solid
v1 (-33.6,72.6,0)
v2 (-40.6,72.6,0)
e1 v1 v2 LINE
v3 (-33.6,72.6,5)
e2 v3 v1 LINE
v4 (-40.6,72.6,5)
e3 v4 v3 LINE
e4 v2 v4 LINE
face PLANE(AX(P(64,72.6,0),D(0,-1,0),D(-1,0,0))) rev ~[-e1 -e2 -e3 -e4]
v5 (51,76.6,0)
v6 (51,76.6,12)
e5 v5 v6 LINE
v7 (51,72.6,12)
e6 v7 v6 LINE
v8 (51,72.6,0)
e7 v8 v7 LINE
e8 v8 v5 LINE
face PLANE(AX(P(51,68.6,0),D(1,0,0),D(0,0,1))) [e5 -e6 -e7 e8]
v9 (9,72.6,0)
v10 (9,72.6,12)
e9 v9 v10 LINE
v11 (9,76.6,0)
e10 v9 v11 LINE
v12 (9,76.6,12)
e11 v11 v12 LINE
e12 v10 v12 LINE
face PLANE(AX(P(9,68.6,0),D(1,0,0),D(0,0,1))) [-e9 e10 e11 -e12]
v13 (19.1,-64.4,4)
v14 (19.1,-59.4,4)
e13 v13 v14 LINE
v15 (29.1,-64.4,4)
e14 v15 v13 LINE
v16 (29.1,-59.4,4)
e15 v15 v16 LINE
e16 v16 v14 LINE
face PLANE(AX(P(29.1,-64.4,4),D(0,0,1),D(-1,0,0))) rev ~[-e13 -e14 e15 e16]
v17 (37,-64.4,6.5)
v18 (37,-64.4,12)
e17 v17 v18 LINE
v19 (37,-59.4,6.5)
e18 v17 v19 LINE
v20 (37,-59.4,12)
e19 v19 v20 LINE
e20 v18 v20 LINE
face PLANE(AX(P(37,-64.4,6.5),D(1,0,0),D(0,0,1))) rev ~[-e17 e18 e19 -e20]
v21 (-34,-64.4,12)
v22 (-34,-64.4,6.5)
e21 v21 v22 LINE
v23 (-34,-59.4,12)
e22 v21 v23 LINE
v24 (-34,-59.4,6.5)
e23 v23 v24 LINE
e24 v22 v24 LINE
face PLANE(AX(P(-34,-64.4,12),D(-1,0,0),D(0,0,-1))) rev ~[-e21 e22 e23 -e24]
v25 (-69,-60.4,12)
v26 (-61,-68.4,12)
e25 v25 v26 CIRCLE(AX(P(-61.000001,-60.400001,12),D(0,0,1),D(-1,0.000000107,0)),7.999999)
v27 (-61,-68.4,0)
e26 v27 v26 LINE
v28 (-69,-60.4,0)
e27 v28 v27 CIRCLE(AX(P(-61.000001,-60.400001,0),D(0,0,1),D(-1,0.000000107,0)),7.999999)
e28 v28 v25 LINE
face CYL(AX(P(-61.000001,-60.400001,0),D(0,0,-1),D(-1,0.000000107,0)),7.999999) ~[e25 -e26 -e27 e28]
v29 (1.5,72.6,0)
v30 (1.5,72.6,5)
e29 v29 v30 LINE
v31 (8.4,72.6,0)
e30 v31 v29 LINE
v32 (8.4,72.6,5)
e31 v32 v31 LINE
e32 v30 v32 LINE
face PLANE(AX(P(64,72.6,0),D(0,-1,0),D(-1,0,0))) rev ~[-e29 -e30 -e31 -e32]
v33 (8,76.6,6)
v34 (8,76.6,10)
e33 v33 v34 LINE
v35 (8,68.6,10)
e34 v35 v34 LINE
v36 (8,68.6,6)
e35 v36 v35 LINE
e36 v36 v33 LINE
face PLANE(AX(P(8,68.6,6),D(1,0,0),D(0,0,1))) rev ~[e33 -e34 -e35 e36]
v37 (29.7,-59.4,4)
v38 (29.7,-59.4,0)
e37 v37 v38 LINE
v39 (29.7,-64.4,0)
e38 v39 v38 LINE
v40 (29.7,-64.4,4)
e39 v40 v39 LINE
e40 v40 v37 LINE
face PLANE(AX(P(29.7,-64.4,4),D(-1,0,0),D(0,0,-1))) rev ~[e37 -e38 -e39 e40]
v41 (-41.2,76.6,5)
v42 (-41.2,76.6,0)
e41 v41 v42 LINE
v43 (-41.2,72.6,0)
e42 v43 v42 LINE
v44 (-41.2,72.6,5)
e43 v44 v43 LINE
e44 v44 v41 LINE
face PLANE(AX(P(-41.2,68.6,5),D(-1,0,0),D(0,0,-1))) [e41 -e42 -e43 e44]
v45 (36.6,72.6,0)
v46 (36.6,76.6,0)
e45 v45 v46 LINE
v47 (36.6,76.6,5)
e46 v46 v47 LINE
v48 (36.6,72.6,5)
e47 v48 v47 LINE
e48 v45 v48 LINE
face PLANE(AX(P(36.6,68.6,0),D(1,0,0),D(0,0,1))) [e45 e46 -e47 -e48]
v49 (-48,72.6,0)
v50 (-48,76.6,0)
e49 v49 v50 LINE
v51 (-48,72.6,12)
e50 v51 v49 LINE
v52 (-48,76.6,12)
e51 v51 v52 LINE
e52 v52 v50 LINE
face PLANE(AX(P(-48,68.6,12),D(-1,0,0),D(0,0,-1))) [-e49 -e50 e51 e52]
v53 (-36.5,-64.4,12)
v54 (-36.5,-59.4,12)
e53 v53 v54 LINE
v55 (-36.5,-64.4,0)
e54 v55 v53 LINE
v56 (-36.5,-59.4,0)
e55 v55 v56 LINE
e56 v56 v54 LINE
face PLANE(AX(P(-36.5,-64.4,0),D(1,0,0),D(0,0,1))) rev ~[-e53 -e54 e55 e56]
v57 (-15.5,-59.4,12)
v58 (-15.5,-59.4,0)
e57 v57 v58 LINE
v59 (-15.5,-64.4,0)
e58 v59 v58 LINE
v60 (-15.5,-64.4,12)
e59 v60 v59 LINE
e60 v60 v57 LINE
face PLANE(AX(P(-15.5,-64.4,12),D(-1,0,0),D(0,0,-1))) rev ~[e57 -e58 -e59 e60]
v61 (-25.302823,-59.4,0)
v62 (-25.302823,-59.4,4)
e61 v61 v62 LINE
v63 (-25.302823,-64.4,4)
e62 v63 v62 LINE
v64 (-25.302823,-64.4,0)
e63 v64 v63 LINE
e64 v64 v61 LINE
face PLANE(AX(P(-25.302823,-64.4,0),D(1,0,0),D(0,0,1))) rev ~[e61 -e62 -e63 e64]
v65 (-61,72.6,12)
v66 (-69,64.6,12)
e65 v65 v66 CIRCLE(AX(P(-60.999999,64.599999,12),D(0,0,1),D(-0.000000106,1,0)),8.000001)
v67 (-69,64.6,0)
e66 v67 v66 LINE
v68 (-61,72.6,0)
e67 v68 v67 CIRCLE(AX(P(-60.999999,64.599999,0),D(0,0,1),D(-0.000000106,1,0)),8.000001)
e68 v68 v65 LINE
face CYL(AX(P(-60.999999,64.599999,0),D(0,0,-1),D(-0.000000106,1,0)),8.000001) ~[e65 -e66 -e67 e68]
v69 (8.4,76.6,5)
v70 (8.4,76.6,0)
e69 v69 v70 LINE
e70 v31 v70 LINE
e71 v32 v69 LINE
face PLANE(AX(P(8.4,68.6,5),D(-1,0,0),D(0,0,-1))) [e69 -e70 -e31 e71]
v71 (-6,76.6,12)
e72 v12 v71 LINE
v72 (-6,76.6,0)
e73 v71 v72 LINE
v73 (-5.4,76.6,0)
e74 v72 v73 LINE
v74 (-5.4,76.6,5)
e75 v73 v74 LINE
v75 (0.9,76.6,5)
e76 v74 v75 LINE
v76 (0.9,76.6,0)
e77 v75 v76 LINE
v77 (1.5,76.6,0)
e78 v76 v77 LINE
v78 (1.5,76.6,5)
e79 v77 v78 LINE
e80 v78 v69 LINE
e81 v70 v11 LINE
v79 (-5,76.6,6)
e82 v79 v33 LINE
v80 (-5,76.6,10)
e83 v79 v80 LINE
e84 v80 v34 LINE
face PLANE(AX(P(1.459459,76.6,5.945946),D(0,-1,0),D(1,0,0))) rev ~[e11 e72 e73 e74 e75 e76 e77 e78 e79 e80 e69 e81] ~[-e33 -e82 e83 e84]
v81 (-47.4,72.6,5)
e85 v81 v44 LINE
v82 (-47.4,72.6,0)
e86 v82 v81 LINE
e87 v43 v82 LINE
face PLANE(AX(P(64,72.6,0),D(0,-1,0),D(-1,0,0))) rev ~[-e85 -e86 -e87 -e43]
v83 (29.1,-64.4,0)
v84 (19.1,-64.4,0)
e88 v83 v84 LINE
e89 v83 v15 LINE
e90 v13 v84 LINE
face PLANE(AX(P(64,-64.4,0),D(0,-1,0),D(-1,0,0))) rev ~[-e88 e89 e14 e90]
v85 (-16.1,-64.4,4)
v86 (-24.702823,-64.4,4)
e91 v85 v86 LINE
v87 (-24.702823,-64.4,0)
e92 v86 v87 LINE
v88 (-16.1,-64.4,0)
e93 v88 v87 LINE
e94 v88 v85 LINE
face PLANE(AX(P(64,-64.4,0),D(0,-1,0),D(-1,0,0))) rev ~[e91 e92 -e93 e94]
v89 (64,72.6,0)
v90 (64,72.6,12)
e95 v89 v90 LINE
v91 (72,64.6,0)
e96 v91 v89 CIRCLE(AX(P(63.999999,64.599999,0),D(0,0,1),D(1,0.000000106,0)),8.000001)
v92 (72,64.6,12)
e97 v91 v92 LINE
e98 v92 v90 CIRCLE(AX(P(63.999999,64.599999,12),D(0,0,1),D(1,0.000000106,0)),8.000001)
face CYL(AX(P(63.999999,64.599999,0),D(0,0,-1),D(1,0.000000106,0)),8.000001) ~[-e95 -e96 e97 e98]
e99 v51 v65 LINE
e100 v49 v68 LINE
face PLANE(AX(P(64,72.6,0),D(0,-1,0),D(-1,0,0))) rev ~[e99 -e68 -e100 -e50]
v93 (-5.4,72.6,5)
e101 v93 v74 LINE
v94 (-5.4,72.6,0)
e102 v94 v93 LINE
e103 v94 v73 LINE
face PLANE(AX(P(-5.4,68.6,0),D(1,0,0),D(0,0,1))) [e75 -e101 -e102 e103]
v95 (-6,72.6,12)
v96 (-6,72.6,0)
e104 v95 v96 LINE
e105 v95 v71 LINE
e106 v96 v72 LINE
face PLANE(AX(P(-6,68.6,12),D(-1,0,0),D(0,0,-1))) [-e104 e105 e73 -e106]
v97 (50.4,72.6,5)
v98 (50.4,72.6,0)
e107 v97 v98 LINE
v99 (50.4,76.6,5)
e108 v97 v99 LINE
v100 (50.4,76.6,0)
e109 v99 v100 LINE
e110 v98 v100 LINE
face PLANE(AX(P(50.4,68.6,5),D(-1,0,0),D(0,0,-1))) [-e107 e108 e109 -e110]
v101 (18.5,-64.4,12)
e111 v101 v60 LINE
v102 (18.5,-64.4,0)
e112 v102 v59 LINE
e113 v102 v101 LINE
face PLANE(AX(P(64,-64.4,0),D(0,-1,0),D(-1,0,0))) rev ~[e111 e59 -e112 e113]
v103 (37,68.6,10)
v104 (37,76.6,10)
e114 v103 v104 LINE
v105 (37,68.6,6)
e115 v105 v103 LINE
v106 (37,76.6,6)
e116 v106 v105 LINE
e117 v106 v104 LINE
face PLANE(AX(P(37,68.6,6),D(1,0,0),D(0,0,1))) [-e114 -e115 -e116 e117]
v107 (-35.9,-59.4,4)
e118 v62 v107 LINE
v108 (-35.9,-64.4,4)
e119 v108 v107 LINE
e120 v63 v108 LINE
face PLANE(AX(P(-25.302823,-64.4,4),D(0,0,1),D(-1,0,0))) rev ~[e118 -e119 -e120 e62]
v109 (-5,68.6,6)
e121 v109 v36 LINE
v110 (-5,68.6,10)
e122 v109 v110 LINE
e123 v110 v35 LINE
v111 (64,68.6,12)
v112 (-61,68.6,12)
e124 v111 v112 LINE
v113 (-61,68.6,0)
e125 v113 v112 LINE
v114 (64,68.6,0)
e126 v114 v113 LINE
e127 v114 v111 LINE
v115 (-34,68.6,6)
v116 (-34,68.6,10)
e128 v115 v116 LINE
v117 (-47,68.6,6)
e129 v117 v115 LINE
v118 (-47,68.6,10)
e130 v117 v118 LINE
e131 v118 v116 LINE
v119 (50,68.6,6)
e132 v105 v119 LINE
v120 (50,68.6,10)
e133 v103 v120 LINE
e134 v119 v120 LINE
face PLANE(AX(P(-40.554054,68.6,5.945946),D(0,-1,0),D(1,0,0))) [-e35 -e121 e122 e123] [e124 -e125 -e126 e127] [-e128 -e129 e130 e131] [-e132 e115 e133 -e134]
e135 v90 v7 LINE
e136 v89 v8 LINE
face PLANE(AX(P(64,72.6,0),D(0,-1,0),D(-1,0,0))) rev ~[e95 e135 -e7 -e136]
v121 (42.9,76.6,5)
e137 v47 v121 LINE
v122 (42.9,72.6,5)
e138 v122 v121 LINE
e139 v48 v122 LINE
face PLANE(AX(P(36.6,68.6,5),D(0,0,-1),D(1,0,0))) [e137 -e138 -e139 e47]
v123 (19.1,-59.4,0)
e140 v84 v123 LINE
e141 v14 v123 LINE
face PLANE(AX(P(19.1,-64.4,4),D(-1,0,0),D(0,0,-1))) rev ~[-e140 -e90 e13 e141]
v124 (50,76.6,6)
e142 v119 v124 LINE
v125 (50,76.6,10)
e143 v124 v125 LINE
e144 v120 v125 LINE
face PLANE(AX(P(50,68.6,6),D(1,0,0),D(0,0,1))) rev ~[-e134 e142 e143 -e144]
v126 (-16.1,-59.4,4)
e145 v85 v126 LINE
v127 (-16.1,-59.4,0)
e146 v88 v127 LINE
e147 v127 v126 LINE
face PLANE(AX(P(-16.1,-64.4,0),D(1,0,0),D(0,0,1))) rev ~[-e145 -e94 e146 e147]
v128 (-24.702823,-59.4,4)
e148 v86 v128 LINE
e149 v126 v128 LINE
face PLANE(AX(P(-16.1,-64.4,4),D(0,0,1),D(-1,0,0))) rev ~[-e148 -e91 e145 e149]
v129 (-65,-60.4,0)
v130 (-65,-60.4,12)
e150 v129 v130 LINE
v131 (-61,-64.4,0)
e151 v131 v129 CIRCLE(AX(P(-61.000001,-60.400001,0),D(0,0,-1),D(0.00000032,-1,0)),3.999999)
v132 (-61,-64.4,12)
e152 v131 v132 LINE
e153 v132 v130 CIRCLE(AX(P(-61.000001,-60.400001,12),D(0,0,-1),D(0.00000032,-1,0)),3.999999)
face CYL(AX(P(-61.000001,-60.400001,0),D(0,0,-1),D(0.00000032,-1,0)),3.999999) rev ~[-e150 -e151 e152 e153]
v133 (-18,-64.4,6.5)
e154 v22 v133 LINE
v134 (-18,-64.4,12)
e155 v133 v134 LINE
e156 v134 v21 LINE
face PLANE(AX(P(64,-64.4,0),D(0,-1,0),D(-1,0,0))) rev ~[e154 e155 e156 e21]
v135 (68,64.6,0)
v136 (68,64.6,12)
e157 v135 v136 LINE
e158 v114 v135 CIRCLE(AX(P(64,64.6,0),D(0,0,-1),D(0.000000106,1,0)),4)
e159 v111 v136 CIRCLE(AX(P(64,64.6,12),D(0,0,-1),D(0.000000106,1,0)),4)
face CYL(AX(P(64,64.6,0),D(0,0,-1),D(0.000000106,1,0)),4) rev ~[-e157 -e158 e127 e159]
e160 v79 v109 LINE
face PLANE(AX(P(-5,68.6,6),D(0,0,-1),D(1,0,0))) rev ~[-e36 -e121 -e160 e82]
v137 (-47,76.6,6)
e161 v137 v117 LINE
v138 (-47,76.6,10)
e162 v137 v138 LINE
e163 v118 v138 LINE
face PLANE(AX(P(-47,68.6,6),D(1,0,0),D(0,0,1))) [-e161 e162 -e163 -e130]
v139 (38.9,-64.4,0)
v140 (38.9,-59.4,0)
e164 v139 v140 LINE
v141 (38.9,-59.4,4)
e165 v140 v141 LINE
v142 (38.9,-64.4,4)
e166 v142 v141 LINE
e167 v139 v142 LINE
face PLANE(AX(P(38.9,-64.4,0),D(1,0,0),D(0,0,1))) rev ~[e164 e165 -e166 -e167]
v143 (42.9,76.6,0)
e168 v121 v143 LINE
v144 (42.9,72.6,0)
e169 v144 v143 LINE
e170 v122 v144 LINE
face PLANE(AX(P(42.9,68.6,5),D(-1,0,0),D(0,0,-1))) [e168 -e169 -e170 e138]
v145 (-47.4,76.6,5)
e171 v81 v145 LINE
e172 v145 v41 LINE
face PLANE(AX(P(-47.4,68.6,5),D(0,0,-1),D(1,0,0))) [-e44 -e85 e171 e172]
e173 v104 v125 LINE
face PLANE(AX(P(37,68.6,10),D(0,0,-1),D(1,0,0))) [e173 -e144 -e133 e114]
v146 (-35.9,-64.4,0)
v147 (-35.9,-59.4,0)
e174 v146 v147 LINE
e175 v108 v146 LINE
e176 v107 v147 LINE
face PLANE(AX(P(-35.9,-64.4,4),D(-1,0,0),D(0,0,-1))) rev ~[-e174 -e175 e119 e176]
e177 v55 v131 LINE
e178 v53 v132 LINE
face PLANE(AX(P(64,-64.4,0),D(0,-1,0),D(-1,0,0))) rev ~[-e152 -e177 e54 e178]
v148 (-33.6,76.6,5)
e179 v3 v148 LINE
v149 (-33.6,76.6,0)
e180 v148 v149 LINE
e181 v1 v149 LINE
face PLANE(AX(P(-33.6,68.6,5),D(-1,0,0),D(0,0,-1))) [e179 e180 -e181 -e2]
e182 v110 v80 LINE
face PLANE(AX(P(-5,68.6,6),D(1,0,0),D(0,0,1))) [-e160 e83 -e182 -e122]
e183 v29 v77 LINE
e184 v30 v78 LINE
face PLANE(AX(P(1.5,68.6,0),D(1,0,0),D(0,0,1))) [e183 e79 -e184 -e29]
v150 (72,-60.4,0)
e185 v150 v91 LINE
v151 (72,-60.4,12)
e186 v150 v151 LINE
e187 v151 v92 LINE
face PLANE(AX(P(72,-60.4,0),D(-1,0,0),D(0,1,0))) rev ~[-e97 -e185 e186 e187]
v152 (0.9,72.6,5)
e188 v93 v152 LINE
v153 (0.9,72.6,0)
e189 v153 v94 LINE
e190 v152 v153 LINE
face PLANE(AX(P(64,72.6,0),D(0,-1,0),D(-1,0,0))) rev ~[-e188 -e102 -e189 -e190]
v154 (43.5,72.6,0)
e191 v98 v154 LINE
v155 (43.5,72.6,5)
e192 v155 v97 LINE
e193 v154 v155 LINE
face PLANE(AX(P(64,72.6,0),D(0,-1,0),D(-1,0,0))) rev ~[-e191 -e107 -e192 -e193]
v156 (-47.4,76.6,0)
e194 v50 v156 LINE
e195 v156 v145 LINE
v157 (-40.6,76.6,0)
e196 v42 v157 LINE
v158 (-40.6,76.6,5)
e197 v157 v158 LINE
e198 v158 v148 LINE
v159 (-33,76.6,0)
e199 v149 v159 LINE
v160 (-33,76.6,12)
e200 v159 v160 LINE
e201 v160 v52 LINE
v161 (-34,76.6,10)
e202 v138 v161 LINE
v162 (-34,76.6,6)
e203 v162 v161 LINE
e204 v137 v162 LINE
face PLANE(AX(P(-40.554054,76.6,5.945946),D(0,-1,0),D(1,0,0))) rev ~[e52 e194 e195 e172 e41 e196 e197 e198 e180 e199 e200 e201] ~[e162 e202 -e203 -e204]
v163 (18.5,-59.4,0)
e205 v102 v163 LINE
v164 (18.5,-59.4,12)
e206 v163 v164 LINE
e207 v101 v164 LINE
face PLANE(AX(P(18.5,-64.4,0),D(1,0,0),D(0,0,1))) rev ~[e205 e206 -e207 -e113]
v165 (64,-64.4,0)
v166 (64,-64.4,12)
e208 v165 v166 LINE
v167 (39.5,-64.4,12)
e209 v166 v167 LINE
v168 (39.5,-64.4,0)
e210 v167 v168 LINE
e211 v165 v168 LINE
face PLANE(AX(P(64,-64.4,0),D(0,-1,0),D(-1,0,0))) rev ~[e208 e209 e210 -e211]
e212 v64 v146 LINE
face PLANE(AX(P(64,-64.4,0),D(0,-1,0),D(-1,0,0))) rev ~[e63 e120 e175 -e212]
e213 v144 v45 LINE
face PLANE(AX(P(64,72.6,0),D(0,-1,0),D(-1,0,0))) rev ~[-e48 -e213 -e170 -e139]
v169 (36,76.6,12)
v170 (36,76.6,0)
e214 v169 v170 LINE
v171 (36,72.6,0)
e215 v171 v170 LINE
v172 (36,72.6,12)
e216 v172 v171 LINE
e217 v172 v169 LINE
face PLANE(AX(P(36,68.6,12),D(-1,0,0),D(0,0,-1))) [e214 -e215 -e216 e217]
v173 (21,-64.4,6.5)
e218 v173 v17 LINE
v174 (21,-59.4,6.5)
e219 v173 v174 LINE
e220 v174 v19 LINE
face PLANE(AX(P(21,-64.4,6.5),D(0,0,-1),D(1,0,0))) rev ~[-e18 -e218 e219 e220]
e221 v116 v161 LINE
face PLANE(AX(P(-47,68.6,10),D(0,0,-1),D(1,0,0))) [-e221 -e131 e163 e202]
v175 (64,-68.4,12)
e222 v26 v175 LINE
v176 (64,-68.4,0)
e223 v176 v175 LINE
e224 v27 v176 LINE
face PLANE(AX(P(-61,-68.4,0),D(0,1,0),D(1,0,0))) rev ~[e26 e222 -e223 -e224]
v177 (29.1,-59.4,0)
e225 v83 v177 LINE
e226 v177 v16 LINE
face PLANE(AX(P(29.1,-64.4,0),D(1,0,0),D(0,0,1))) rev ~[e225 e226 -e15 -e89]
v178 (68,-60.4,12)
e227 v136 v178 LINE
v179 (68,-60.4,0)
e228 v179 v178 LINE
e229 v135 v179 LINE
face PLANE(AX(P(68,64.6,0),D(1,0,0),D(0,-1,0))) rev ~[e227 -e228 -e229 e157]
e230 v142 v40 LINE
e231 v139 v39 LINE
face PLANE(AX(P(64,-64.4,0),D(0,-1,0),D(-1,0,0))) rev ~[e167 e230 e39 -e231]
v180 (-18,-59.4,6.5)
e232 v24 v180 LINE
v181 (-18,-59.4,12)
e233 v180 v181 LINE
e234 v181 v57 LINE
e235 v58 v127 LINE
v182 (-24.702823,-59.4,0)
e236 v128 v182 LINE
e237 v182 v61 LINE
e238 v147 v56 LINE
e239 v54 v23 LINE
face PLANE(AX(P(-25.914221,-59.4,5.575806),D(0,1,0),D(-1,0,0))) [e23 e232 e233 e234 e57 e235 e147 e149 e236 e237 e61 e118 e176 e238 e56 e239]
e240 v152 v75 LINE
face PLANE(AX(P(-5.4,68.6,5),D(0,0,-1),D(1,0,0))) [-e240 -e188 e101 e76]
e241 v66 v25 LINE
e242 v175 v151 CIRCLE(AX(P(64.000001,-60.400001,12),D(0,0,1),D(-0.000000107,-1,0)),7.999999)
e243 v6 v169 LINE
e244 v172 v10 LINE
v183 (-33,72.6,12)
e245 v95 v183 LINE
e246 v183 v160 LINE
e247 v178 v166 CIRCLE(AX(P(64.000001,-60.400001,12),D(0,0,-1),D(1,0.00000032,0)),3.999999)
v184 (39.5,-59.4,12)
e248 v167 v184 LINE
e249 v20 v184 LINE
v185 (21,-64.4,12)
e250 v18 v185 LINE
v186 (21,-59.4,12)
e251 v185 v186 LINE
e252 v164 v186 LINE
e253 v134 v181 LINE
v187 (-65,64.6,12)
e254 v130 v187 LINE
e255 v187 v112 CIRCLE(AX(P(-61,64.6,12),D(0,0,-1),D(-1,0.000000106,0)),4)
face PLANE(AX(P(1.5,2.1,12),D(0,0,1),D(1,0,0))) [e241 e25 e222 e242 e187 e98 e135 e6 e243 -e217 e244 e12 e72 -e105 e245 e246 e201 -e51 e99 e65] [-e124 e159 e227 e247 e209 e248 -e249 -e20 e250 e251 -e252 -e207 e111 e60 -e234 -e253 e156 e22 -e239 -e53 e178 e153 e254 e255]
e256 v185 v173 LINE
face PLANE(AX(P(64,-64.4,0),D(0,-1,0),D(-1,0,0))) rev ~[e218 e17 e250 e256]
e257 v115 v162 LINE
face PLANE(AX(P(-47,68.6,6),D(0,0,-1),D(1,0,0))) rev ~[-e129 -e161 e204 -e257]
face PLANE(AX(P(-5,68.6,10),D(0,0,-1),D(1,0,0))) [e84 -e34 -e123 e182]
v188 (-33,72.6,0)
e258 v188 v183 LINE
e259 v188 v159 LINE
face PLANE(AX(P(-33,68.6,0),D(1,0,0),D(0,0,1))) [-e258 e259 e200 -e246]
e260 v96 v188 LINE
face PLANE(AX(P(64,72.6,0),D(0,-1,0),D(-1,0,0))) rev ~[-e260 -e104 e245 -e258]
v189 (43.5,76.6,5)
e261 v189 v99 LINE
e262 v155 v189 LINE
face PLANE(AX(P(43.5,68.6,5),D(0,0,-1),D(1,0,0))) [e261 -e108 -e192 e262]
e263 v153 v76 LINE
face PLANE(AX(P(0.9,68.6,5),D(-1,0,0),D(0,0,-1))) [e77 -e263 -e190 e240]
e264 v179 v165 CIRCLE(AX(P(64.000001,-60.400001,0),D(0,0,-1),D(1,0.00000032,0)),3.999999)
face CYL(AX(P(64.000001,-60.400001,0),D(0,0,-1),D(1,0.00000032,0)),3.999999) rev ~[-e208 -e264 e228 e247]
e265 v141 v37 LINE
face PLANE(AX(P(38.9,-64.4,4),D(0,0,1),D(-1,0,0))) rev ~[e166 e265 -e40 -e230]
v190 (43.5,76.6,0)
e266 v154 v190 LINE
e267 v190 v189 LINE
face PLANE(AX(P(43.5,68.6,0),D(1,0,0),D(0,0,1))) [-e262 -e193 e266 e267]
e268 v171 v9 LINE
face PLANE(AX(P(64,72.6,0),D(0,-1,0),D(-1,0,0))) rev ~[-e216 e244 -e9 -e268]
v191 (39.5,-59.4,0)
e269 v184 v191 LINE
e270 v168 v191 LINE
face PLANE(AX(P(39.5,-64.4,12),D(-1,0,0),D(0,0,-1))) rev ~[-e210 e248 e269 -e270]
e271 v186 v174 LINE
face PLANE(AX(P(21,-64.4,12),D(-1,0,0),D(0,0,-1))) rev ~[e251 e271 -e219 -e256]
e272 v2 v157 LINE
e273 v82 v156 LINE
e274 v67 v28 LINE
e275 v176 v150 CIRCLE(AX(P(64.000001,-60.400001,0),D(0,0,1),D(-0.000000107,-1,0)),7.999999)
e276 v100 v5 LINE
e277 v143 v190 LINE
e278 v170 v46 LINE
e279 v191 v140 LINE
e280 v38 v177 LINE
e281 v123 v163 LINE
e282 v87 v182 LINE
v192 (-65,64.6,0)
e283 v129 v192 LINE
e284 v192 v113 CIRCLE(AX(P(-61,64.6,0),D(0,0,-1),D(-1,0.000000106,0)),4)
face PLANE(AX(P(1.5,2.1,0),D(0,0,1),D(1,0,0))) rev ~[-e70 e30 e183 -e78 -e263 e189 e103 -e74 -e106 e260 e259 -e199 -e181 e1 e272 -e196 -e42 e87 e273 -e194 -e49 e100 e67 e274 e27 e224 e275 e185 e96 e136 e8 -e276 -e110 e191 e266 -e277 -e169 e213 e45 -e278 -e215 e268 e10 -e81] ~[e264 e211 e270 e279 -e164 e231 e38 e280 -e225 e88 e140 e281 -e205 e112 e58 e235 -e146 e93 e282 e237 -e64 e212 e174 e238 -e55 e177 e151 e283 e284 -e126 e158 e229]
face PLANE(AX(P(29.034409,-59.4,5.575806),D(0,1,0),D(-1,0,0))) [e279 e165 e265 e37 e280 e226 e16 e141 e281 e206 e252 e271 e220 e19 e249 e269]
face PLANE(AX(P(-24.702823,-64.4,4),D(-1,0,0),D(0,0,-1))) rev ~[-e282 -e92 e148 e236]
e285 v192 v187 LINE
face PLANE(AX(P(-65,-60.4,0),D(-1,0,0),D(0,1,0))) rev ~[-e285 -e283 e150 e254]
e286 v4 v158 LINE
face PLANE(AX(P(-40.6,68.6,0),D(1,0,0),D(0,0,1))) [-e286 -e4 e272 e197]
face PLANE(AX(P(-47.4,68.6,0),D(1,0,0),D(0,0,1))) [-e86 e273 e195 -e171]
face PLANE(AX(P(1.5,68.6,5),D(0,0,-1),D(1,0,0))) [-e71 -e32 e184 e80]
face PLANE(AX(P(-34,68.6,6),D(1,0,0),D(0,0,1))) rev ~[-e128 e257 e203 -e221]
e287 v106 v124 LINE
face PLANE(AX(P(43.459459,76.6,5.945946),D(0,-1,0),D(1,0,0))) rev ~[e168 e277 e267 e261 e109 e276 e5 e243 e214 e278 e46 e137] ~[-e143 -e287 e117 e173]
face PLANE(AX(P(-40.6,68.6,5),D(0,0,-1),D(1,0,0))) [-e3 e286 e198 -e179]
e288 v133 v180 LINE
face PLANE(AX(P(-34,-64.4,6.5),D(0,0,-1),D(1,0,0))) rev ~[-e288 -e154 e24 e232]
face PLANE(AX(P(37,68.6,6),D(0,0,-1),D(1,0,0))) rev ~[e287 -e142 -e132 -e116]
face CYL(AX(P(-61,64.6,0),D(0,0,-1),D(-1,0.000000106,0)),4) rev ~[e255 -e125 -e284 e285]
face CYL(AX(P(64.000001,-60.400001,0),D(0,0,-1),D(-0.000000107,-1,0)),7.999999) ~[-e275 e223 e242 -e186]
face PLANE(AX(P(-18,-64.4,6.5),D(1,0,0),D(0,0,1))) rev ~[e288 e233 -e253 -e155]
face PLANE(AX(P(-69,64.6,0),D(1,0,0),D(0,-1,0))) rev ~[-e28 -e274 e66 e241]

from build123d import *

# Parameters (mm, degrees)
F1_DEPTH = 12
F2_W     = 13
F2_H     = 4
F3_DEPTH = 8
F4_DEPTH = 25
F6_DEPTH = 5


with BuildPart() as f1:
    # F0 (on Top) → F1 (new body)
    with BuildSketch(Plane.XY):
        with BuildLine():
            Line((64, 72.6), (-61, 72.6))
            ThreePointArc((-61, 72.6), (-66.656854, 70.256854), (-69, 64.6))
            Line((-69, 64.6), (-69, -60.4))
            ThreePointArc((-69, -60.4), (-66.656854, -66.056855), (-61, -68.4))
            Line((-61, -68.4), (64, -68.4))
            ThreePointArc((64, -68.4), (69.656854, -66.056855), (72, -60.4))
            Line((72, -60.4), (72, 64.6))
            ThreePointArc((72, 64.6), (69.656854, 70.256854), (64, 72.6))
        make_face()
        with BuildLine():
            Line((64, -64.4), (-61, -64.4))
            ThreePointArc((-61, -64.4), (-63.828427, -63.228428), (-65, -60.4))
            Line((-65, -60.4), (-65, 64.6))
            ThreePointArc((-65, 64.6), (-63.828427, 67.428427), (-61, 68.6))
            Line((-61, 68.6), (64, 68.6))
            ThreePointArc((64, 68.6), (66.828427, 67.428427), (68, 64.6))
            Line((68, 64.6), (68, -60.4))
            ThreePointArc((68, -60.4), (66.828427, -63.228428), (64, -64.4))
        make_face(mode=Mode.SUBTRACT)
    extrude(amount=F1_DEPTH)

    # F2 (on face) → F3 (join)
    with BuildSketch(Plane.XZ.offset(-68.6)):
        Polygon((-48, 12), (-48, 6), (-48, 0), (-47.4, 0), (-47.4, 5), (-41.2, 5), (-41.2, 0), (-40.6, 0), (-40.6, 5), (-33.6, 5), (-33.6, 0), (-33, 0), (-33, 12), align=None)
        with Locations((-40.5, 8)):
            Rectangle(F2_W, F2_H, mode=Mode.SUBTRACT)
        Polygon((9, 12), (-6, 12), (-6, 6), (-6, 0), (-5.4, 0), (-5.4, 5), (0.9, 5), (0.9, 0), (1.5, 0), (1.5, 5), (8.4, 5), (8.4, 0), (9, 0), align=None)
        with Locations((1.5, 8)):
            Rectangle(F2_W, F2_H, mode=Mode.SUBTRACT)
        Polygon((51, 12), (36, 12), (36, 0), (36.6, 0), (36.6, 5), (42.9, 5), (42.9, 0), (43.5, 0), (43.5, 5), (50.4, 5), (50.4, 0), (51, 0), (51, 6), align=None)
        with Locations((43.5, 8)):
            Rectangle(F2_W, F2_H, mode=Mode.SUBTRACT)
    extrude(amount=-F3_DEPTH)

    # F2 (on face) → F4 (cut)
    with BuildSketch(Plane.XZ.offset(-68.6)):
        with Locations((43.5, 8)):
            Rectangle(F2_W, F2_H)
        with Locations((1.5, 8)):
            Rectangle(F2_W, F2_H)
        with Locations((-40.5, 8)):
            Rectangle(F2_W, F2_H)
    extrude(amount=-F4_DEPTH, mode=Mode.SUBTRACT)

    # F5 (on face) → F6 (join)
    with BuildSketch(Plane(origin=(0, -64.4, 0), x_dir=(-1, 0, 0), z_dir=(0, 1, 0))):
        Polygon((-18.5, 4), (-18.5, 12), (-21, 12), (-21, 6.5), (-37, 6.5), (-37, 12), (-39.5, 12), (-39.5, 4), (-39.5, 0), (-38.9, 0), (-38.9, 4), (-29.7, 4), (-29.7, 0), (-29.1, 0), (-29.1, 4), (-19.1, 4), (-19.1, 0), (-18.5, 0), align=None)
        Polygon((18, 12), (15.5, 12), (15.5, 4), (15.5, 0), (16.1, 0), (16.1, 4), (24.702823, 4), (24.702823, 0), (25.302823, 0), (25.302823, 4), (35.9, 4), (35.9, 0), (36.5, 0), (36.5, 4), (36.5, 12), (34, 12), (34, 6.5), (18, 6.5), align=None)
    extrude(amount=F6_DEPTH)


solid = f1.part
